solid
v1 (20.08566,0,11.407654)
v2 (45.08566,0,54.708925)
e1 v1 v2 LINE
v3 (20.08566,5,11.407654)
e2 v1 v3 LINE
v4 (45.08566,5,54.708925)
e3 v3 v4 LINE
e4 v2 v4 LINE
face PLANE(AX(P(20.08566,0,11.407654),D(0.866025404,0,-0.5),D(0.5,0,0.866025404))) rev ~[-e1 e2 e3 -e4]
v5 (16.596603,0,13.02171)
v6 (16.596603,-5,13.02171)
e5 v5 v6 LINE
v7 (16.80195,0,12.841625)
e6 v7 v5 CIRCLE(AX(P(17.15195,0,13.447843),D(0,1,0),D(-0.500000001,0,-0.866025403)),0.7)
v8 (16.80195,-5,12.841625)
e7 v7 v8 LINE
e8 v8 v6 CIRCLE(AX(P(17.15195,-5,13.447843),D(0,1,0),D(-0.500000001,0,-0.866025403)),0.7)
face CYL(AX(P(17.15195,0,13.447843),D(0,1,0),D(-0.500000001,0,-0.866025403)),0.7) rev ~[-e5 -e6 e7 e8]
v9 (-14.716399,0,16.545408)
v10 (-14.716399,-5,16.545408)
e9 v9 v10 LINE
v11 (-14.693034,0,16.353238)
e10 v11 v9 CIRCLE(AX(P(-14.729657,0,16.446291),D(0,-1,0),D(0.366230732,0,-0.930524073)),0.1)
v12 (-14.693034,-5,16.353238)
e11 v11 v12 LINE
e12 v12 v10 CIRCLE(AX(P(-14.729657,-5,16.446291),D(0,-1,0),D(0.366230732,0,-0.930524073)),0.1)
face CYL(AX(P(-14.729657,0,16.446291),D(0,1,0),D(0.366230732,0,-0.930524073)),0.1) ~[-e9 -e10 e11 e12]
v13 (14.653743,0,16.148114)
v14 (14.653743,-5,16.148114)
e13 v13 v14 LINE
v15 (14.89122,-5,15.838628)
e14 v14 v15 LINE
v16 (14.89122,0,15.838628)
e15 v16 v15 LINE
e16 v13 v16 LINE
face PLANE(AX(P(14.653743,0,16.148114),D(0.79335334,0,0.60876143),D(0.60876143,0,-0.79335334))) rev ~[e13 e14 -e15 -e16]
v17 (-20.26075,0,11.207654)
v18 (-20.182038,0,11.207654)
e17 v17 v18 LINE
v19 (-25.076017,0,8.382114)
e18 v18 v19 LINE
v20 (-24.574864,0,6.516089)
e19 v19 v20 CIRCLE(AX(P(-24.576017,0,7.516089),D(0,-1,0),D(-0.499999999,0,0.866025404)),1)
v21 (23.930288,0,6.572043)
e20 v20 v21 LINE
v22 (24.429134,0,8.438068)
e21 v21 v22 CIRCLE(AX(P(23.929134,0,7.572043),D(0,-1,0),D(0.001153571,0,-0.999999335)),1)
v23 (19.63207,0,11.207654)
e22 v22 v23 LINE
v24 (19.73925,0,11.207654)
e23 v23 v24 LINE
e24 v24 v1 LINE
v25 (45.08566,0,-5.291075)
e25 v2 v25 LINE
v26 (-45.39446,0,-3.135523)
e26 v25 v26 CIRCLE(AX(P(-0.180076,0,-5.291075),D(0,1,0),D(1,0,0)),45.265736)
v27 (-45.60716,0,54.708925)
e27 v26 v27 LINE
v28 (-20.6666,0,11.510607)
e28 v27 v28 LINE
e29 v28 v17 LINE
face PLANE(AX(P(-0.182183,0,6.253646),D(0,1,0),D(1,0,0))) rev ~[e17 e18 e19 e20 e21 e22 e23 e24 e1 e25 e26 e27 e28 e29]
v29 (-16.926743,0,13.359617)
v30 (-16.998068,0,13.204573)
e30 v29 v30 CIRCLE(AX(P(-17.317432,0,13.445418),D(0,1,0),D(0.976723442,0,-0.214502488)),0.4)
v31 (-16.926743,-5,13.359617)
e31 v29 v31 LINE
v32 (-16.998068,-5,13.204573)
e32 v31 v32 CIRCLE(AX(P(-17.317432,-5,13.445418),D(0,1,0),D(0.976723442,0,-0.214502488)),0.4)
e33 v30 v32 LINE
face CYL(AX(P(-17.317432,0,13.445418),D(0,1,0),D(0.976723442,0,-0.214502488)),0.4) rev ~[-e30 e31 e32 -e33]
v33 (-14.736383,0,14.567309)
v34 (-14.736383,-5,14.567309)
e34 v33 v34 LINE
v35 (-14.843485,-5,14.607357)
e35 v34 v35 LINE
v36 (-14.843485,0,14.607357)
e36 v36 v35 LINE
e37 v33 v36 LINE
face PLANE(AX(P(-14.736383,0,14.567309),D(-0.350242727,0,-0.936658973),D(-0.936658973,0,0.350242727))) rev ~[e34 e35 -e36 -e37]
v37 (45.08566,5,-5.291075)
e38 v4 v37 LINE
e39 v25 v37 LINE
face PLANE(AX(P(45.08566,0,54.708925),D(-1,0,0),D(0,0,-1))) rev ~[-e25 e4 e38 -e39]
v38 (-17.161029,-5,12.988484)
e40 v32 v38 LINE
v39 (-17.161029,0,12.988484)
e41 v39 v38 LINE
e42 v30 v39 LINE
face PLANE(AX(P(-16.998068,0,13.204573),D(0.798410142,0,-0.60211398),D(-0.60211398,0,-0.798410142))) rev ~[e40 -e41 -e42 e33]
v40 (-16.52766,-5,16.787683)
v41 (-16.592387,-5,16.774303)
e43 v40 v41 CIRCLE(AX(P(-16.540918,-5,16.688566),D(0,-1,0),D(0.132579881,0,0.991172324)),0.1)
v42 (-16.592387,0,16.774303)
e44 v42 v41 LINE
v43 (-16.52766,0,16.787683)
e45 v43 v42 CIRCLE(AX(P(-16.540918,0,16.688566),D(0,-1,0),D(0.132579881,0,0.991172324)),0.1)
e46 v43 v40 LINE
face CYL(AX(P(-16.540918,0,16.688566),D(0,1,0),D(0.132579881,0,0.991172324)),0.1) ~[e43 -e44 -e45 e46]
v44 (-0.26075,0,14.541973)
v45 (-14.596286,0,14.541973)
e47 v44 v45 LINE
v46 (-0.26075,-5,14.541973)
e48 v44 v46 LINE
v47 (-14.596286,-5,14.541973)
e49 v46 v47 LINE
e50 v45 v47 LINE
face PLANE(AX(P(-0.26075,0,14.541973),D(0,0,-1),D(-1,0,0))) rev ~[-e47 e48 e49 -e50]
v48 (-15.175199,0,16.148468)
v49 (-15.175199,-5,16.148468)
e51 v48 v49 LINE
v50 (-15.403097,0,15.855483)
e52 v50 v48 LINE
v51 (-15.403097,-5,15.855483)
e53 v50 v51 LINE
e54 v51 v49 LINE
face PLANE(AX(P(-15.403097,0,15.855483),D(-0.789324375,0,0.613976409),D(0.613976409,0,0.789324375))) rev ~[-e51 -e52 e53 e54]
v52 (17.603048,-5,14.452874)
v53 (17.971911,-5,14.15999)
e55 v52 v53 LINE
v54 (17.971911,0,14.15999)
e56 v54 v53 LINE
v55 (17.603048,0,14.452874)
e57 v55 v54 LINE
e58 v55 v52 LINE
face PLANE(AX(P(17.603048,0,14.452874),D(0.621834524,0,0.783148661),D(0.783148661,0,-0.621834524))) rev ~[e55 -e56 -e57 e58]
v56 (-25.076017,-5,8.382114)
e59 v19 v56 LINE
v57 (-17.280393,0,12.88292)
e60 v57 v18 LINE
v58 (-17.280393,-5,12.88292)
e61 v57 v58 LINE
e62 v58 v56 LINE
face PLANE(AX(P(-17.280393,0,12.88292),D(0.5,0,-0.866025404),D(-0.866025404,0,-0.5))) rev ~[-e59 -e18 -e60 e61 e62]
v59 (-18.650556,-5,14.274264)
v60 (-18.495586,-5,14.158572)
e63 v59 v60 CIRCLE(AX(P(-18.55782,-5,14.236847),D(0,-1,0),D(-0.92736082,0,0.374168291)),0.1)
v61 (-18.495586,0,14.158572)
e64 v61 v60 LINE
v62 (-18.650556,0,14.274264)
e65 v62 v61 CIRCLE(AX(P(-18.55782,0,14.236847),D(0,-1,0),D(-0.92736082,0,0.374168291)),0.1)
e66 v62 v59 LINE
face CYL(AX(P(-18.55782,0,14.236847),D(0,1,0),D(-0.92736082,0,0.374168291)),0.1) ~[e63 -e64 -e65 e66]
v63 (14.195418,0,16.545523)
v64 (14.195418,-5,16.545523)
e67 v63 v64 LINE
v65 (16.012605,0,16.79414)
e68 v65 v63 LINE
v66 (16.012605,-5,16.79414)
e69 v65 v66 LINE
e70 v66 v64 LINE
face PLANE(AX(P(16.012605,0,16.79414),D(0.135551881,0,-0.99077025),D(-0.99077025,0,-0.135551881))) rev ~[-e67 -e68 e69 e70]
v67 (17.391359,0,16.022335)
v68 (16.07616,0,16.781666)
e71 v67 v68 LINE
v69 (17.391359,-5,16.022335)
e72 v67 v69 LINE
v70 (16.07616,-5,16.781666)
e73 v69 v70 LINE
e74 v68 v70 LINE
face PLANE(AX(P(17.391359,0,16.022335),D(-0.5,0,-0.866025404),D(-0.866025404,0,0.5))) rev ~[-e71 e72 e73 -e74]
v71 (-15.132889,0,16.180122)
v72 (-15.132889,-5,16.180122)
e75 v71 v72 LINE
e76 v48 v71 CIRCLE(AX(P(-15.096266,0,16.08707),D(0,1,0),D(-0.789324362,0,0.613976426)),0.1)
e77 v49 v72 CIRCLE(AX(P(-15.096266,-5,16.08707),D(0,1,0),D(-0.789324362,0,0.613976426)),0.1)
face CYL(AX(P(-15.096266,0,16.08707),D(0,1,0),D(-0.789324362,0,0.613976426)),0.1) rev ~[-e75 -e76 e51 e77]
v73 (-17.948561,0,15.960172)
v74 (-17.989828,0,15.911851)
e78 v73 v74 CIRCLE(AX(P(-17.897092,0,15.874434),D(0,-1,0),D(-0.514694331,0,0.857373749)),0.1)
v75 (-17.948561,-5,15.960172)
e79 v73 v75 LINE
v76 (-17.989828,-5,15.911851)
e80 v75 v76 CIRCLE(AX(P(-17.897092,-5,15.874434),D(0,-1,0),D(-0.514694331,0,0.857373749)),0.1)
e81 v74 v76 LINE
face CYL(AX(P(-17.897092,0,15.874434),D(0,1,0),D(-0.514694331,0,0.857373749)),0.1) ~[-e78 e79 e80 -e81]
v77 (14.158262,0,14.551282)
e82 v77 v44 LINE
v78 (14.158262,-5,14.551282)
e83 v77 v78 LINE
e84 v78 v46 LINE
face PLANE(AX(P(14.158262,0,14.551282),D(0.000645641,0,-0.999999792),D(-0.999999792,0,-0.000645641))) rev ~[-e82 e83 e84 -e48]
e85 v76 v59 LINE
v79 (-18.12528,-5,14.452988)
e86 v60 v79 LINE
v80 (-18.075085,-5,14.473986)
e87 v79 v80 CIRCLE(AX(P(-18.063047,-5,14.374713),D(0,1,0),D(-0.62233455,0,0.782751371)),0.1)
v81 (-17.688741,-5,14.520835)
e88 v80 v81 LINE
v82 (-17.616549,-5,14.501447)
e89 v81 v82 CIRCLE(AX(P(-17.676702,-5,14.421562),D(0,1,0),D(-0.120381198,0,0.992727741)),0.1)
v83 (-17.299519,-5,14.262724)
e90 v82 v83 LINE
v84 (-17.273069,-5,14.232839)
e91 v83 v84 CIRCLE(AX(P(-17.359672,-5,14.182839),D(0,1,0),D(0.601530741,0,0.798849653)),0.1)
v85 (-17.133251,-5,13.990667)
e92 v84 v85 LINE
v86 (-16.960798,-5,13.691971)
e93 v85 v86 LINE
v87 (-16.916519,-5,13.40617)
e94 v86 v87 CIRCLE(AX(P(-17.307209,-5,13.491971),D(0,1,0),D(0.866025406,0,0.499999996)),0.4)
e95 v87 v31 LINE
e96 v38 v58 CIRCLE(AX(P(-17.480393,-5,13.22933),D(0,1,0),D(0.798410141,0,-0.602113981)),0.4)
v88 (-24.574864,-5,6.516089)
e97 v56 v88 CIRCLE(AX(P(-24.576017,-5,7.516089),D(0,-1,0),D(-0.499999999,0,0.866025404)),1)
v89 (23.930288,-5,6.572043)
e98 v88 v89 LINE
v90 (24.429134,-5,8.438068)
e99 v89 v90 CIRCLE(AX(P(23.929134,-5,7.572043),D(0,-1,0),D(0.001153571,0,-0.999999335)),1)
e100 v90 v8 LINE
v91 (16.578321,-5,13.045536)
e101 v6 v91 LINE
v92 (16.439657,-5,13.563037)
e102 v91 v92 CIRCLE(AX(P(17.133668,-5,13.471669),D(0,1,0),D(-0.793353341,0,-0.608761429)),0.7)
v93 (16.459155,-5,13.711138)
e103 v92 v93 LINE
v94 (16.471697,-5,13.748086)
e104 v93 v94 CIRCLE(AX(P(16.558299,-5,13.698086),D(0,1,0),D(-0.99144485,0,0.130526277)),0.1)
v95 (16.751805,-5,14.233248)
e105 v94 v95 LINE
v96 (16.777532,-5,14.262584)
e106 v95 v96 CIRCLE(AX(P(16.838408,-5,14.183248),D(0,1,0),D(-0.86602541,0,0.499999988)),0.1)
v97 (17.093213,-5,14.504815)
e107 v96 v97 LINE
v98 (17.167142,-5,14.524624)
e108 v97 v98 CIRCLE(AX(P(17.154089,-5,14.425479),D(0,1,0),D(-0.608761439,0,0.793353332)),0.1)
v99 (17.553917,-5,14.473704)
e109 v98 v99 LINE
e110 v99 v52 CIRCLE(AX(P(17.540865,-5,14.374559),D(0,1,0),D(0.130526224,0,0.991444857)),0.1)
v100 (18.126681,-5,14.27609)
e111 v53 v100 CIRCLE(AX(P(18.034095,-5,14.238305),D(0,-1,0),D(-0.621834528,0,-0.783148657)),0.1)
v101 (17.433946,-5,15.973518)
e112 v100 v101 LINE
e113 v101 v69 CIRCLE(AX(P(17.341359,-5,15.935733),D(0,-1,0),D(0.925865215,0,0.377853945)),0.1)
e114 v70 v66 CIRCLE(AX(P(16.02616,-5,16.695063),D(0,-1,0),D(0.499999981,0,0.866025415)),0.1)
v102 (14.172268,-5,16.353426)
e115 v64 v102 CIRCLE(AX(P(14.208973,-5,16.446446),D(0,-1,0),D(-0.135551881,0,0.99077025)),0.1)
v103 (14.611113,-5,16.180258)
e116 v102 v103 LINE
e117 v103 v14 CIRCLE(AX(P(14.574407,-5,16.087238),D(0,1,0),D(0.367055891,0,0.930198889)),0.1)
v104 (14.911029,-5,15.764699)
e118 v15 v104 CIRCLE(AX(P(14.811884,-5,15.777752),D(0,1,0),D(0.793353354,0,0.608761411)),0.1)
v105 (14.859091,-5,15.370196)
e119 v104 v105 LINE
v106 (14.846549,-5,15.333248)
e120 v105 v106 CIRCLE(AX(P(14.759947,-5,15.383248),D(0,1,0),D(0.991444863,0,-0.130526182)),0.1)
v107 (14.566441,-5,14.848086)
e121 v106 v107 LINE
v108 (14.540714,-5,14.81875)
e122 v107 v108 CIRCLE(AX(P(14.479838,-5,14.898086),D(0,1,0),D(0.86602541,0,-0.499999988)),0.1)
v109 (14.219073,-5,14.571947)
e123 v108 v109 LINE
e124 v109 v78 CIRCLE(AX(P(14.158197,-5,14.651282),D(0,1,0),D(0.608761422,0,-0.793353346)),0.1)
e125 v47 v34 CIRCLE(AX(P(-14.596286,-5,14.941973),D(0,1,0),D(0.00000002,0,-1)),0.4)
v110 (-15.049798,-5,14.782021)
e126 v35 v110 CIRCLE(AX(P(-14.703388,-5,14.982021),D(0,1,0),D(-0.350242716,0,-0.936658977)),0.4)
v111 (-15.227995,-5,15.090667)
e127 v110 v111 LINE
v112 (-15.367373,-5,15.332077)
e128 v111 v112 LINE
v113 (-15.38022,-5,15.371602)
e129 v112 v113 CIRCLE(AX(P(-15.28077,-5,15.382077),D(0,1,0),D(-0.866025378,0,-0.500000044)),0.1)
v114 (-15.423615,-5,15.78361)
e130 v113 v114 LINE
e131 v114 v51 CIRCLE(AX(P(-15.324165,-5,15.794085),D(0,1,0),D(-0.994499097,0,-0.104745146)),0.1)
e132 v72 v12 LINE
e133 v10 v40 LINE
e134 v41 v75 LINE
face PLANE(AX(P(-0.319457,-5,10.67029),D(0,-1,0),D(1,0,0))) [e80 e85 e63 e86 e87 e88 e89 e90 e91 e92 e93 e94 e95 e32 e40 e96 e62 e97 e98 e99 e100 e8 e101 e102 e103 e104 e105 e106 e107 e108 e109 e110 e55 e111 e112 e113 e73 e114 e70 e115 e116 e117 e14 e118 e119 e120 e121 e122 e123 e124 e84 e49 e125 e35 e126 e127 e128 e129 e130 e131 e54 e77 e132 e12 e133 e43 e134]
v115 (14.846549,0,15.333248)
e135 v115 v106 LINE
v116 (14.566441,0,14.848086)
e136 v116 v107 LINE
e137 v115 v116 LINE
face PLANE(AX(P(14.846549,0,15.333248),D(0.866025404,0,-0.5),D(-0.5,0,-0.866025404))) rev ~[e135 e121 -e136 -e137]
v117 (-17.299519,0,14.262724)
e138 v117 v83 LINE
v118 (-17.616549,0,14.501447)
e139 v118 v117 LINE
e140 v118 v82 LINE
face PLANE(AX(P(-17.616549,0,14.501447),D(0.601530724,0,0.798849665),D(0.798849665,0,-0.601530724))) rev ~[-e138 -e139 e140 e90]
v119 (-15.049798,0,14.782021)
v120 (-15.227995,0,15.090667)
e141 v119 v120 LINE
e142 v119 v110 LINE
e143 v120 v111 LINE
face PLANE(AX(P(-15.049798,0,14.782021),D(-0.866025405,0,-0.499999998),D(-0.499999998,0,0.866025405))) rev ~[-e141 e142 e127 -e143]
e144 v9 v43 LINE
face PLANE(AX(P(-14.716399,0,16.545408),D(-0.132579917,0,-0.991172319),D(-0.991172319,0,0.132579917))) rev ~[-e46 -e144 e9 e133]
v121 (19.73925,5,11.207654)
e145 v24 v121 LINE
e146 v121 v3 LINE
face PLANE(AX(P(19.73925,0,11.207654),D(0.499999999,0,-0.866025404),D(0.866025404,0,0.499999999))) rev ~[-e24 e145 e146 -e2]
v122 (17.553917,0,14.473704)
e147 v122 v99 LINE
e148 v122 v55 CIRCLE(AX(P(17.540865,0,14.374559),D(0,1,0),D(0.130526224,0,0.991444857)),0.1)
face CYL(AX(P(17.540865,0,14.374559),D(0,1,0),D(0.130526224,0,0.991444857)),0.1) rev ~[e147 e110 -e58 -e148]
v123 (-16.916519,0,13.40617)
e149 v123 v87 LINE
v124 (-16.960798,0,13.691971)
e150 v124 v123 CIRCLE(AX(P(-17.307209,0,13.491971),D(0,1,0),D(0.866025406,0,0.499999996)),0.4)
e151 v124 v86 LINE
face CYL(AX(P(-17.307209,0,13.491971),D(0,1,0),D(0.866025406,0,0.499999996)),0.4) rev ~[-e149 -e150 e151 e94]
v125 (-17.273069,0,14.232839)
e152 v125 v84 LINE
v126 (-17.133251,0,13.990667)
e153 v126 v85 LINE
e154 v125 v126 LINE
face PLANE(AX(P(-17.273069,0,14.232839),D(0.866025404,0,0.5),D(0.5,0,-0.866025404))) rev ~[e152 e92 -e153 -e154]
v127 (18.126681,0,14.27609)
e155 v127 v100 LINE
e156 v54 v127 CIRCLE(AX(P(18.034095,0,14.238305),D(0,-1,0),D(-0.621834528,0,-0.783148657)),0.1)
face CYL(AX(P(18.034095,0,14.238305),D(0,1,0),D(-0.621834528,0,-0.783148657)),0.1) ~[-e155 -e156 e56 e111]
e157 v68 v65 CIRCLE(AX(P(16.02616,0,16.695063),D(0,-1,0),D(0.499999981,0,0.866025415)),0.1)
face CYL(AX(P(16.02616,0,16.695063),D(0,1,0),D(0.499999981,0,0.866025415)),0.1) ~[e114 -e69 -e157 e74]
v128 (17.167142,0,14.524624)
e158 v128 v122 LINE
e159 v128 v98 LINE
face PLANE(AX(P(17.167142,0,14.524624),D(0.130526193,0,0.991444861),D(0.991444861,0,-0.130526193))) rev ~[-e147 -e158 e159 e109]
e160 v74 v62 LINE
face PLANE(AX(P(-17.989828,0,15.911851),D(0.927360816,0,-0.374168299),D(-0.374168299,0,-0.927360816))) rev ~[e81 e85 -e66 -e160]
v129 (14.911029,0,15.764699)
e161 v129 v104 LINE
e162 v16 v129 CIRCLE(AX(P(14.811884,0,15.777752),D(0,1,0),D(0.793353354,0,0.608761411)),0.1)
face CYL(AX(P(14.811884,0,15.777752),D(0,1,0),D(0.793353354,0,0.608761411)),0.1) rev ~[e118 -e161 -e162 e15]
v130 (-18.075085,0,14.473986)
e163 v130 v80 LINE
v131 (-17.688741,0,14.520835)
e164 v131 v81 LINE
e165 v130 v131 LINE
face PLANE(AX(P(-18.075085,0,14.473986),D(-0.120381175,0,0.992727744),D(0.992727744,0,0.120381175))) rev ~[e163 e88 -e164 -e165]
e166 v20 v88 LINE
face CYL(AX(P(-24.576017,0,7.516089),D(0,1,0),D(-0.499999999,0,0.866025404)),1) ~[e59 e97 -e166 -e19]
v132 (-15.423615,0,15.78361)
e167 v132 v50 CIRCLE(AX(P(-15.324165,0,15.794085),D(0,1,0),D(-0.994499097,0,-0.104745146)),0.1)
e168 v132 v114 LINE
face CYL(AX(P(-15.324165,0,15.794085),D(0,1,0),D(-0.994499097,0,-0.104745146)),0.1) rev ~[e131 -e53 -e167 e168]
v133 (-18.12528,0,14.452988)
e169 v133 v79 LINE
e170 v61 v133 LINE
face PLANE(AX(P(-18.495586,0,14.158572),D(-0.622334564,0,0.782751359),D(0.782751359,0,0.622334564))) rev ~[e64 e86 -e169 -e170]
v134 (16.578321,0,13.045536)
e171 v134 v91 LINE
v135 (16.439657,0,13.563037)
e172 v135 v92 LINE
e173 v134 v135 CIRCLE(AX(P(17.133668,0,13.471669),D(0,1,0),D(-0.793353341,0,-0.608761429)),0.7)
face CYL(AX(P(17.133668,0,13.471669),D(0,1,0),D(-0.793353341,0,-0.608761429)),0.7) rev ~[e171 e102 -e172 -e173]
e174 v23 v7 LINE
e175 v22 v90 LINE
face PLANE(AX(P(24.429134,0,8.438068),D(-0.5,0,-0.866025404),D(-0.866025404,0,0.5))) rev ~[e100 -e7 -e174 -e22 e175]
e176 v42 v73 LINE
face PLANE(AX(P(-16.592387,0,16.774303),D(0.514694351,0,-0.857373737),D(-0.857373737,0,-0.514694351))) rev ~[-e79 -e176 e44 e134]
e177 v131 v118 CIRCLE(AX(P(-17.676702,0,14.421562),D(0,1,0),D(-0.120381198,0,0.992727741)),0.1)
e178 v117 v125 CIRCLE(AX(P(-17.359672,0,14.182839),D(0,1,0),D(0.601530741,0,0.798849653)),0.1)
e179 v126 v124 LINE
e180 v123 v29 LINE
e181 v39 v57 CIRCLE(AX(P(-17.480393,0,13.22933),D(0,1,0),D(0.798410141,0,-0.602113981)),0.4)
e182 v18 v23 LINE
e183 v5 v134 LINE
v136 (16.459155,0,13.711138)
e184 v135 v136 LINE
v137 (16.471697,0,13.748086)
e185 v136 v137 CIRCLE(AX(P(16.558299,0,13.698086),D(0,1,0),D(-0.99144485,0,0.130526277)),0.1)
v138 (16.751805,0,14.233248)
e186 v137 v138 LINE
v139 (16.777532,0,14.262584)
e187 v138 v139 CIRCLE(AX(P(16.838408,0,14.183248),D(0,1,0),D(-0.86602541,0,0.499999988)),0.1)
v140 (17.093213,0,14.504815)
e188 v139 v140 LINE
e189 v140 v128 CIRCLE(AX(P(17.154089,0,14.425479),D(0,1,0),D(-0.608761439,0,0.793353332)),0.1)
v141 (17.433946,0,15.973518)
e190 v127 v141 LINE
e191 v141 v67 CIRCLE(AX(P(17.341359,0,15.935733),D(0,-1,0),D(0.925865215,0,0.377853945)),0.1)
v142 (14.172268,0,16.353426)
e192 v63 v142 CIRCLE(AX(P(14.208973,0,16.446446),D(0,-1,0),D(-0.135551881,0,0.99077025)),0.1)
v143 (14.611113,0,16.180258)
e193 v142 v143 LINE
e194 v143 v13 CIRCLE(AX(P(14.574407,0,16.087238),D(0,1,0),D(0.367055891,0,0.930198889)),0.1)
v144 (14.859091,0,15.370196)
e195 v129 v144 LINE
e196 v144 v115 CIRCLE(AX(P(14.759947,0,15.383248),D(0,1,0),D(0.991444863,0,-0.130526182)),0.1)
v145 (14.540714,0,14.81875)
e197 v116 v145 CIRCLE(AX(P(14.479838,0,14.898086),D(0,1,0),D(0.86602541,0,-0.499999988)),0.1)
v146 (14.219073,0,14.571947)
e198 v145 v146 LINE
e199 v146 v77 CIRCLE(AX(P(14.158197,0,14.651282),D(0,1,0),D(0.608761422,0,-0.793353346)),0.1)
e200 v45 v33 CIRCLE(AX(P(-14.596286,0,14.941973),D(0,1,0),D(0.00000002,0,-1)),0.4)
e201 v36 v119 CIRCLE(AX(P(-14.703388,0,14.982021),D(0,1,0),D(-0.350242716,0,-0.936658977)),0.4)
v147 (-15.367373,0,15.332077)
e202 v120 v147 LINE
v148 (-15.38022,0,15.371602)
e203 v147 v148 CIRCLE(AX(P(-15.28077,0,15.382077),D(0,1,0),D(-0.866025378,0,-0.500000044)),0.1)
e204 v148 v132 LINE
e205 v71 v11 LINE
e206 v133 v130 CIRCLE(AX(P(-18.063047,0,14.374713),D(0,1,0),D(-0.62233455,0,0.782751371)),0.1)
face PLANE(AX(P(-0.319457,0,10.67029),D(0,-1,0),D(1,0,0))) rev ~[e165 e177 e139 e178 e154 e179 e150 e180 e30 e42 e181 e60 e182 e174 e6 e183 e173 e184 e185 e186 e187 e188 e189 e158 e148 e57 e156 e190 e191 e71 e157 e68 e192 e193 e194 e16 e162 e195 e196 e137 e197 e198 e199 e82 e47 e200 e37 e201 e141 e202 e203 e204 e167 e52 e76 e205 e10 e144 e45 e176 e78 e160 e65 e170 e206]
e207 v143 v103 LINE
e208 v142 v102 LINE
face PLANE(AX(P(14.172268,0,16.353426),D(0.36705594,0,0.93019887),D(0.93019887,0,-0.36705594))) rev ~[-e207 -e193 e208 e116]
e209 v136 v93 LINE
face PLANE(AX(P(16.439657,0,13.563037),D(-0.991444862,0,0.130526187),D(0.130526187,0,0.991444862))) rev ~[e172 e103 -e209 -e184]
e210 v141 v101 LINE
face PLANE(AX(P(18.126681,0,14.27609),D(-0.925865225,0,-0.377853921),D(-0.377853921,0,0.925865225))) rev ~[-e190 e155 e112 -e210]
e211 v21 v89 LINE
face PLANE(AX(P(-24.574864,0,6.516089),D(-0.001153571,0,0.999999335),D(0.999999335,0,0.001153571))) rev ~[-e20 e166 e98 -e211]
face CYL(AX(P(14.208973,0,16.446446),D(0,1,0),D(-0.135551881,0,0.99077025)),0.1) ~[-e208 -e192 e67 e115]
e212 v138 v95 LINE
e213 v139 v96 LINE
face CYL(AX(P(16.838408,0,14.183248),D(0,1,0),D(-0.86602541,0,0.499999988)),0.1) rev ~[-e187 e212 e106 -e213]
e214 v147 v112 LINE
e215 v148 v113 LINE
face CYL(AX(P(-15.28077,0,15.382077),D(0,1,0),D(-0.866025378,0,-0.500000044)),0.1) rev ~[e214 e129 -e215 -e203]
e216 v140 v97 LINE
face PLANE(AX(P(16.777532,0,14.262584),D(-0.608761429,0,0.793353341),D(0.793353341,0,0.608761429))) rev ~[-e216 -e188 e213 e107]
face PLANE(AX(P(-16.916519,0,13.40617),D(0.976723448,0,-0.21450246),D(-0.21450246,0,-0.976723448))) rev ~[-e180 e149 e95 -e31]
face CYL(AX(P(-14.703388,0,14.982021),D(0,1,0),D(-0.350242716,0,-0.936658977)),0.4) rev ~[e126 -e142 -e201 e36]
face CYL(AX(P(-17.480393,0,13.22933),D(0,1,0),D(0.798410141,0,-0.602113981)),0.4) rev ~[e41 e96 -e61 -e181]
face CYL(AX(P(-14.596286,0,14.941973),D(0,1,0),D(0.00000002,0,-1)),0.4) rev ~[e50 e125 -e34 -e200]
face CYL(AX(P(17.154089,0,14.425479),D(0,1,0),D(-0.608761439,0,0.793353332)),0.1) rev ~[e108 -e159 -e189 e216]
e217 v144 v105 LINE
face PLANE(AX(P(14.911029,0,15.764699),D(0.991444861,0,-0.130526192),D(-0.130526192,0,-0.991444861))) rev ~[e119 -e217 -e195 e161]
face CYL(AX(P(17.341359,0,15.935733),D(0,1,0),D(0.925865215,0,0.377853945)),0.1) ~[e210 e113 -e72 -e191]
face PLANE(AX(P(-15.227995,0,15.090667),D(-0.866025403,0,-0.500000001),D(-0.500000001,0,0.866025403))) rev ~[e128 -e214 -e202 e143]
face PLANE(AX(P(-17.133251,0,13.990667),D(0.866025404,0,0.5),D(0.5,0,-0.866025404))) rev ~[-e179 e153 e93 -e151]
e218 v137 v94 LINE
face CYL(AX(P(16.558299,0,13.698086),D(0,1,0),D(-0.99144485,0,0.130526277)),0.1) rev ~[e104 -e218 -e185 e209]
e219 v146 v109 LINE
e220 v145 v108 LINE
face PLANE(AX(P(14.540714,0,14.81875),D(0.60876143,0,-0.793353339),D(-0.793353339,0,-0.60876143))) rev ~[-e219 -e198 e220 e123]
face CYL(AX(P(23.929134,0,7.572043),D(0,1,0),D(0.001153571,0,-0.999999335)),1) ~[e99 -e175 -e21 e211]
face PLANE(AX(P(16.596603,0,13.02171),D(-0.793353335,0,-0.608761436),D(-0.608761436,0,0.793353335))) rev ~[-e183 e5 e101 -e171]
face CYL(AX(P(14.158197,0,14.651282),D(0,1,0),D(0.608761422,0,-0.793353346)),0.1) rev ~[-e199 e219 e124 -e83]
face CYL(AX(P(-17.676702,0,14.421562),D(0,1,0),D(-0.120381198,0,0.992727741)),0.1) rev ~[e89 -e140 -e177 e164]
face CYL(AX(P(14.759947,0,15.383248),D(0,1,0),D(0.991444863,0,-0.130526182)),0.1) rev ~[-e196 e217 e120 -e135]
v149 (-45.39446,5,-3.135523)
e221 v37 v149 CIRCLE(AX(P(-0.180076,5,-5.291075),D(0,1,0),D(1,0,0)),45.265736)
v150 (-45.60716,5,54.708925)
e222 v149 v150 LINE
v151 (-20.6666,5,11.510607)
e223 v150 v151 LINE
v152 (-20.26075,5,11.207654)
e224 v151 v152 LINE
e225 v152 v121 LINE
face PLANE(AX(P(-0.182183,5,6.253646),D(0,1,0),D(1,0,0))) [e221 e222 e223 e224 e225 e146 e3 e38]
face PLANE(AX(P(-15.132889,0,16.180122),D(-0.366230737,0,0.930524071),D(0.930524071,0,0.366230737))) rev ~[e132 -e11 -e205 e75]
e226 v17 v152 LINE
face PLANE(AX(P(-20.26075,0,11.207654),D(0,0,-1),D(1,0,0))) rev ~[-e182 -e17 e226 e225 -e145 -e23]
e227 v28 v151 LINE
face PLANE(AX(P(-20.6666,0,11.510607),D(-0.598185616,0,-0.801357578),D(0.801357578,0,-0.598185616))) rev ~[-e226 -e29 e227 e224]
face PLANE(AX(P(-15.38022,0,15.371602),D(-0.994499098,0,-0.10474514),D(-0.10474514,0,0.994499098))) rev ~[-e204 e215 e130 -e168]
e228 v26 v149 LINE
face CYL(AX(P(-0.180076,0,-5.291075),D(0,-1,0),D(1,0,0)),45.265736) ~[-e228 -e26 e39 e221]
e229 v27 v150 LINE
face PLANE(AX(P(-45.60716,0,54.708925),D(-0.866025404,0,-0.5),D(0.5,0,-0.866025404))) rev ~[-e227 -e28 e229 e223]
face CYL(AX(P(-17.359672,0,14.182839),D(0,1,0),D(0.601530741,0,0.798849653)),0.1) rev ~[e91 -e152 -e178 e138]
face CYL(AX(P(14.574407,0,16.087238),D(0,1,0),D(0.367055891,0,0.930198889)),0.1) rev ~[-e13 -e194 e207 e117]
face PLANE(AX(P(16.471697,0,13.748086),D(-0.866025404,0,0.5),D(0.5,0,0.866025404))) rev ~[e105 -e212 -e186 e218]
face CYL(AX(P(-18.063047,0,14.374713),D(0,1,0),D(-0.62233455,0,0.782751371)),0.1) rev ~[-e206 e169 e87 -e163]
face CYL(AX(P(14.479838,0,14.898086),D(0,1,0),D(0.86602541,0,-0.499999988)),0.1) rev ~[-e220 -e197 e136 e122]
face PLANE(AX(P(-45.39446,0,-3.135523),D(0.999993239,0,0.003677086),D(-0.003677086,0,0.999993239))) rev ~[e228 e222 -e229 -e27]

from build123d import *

# Parameters (mm, degrees)
BOSS_EXTRU_1_DEPTH = 5
BOSS_EXTRU_2_DEPTH = 5


with BuildPart() as part:
    # Esquisse1 → Boss.-Extru.1 (new body)
    with BuildSketch(Plane(origin=(0, 0, 0), x_dir=(1, 0, 0), z_dir=(0, 1, 0))):
        with BuildLine():
            Line((-45.607160176, -54.708924596), (-20.666600132, -11.510607431))
            Line((-20.666600132, -11.510607431), (-20.260750016, -11.207654407))
            Line((-20.260750016, -11.207654407), (-0.260750016, -11.207654407))
            Line((-0.260750016, -11.207654407), (19.739249984, -11.207654407))
            Line((19.739249984, -11.207654407), (20.085660146, -11.407654407))
            Line((20.085660146, -11.407654407), (45.085660146, -54.708924596))
            Line((45.085660146, -54.708924596), (45.085660146, 5.291075404))
            ThreePointArc((45.085660146, 5.291075404), (-1.258158233, 50.543971712), (-45.394459717, 3.135522912))
            Line((-45.394459717, 3.135522912), (-45.607160176, -54.708924596))
        make_face()
    extrude(amount=BOSS_EXTRU_1_DEPTH)

    # Esquisse3 → Boss.-Extru.2 (add)
    with BuildSketch(Plane.XZ):
        with BuildLine():
            Line((-17.273069059, 14.232839193), (-17.133250941, 13.990667109))
            Line((-17.133250941, 13.990667109), (-16.960798401, 13.691970548))
            ThreePointArc((-16.960798401, 13.691970548), (-16.911924508, 13.553212004), (-16.916519184, 13.406169561))
            Line((-16.916519184, 13.406169561), (-16.926742719, 13.359617338))
            ThreePointArc((-16.926742719, 13.359617338), (-16.954040192, 13.27824679), (-16.998068041, 13.204572733))
            Line((-16.998068041, 13.204572733), (-17.161029392, 12.988484086))
            ThreePointArc((-17.161029392, 12.988484086), (-17.215401514, 12.92969778), (-17.280393449, 12.882919517))
            Line((-17.280393449, 12.882919517), (-25.076017394, 8.382113933))
            ThreePointArc((-25.076017394, 8.382113933), (-25.541793777, 7.256712395), (-24.574863823, 6.516089195))
            Line((-24.574863823, 6.516089195), (23.930288039, 6.572043384))
            ThreePointArc((23.930288039, 6.572043384), (24.895209417, 7.313780849), (24.429134468, 8.438068122))
            Line((24.429134468, 8.438068122), (16.801950366, 12.841624917))
            ThreePointArc((16.801950366, 12.841624917), (16.690408296, 12.921554834), (16.596603028, 13.021709699))
            Line((16.596603028, 13.021709699), (16.578320724, 13.045535661))
            ThreePointArc((16.578320724, 13.045535661), (16.457519984, 13.29049533), (16.43965666, 13.563036996))
            Line((16.43965666, 13.563036996), (16.459154582, 13.711138423))
            ThreePointArc((16.459154582, 13.711138423), (16.463606056, 13.73022975), (16.471696528, 13.748085804))
            Line((16.471696528, 13.748085804), (16.751805291, 14.233248413))
            ThreePointArc((16.751805291, 14.233248413), (16.763223851, 14.249182995), (16.777531689, 14.262583747))
            Line((16.777531689, 14.262583747), (17.093212954, 14.504814501))
            ThreePointArc((17.093212954, 14.504814501), (17.128207192, 14.52207175), (17.167141716, 14.524623654))
            Line((17.167141716, 14.524623654), (17.553917324, 14.473703679))
            ThreePointArc((17.553917324, 14.473703679), (17.57989783, 14.466626641), (17.603048157, 14.452874058))
            Line((17.603048157, 14.452874058), (17.97191114, 14.159990026))
            ThreePointArc((17.97191114, 14.159990026), (18.094102127, 14.158310543), (18.126681115, 14.276090284))
            Line((18.126681115, 14.276090284), (17.433945609, 15.973517991))
            ThreePointArc((17.433945609, 15.973517991), (17.416714959, 16.001470658), (17.391359086, 16.02233514))
            Line((17.391359086, 16.02233514), (16.076159754, 16.781665828))
            ThreePointArc((16.076159754, 16.781665828), (16.045420057, 16.793190963), (16.012604566, 16.794140313))
            Line((16.012604566, 16.794140313), (14.195418018, 16.545522578))
            ThreePointArc((14.195418018, 16.545522578), (14.109691574, 16.458410399), (14.172267612, 16.353425666))
            Line((14.172267612, 16.353425666), (14.611112944, 16.18025755))
            ThreePointArc((14.611112944, 16.18025755), (14.63461266, 16.167083269), (14.653742684, 16.148113806))
            Line((14.653742684, 16.148113806), (14.891219551, 15.838627928))
            ThreePointArc((14.891219551, 15.838627928), (14.908476799, 15.80363369), (14.911028703, 15.764699166))
            Line((14.911028703, 15.764699166), (14.859091349, 15.370195794))
            ThreePointArc((14.859091349, 15.370195794), (14.854639876, 15.351104467), (14.846549403, 15.333248413))
            Line((14.846549403, 15.333248413), (14.56644064, 14.848085804))
            ThreePointArc((14.56644064, 14.848085804), (14.55502208, 14.832151222), (14.540714242, 14.81875047))
            Line((14.540714242, 14.81875047), (14.219073364, 14.571946743))
            ThreePointArc((14.219073364, 14.571946743), (14.190371735, 14.556599446), (14.158261785, 14.551282098))
            Line((14.158261785, 14.551282098), (-0.260750016, 14.541972588))
            Line((-0.260750016, 14.541972588), (-14.596285983, 14.541972588))
            ThreePointArc((-14.596285983, 14.541972588), (-14.667470827, 14.548357651), (-14.736383073, 14.567308998))
            Line((-14.736383073, 14.567308998), (-14.843485058, 14.607357396))
            ThreePointArc((-14.843485058, 14.607357396), (-14.96184332, 14.676732873), (-15.04979813, 14.782020985))
            Line((-15.04979813, 14.782020985), (-15.227995052, 15.090667109))
            Line((-15.227995052, 15.090667109), (-15.367372917, 15.332076652))
            ThreePointArc((-15.367372917, 15.332076652), (-15.375872662, 15.351164592), (-15.380220287, 15.371602138))
            Line((-15.380220287, 15.371602138), (-15.423614857, 15.783610378))
            ThreePointArc((-15.423614857, 15.783610378), (-15.420323499, 15.821535446), (-15.403097384, 15.855482533))
            Line((-15.403097384, 15.855482533), (-15.175198809, 16.148467569))
            ThreePointArc((-15.175198809, 16.148467569), (-15.156172757, 16.167140053), (-15.132889445, 16.180122335))
            Line((-15.132889445, 16.180122335), (-14.693034359, 16.353238171))
            ThreePointArc((-14.693034359, 16.353238171), (-14.630388491, 16.458360263), (-14.716399441, 16.54540781))
            Line((-14.716399441, 16.54540781), (-16.527659803, 16.78768329))
            ThreePointArc((-16.527659803, 16.78768329), (-16.561160911, 16.786495707), (-16.59238723, 16.774303432))
            Line((-16.59238723, 16.774303432), (-17.948561264, 15.96017176))
            ThreePointArc((-17.948561264, 15.96017176), (-17.973134754, 15.939376465), (-17.98982791, 15.911851216))
            Line((-17.98982791, 15.911851216), (-18.650555766, 14.274264265))
            ThreePointArc((-18.650555766, 14.274264265), (-18.617642424, 14.156714797), (-18.495586228, 14.158572299))
            Line((-18.495586228, 14.158572299), (-18.125279987, 14.452988106))
            ThreePointArc((-18.125279987, 14.452988106), (-18.101637875, 14.466966469), (-18.075084648, 14.473985744))
            Line((-18.075084648, 14.473985744), (-17.688740592, 14.520834995))
            ThreePointArc((-17.688740592, 14.520834995), (-17.650765358, 14.518139993), (-17.616549402, 14.501447188))
            Line((-17.616549402, 14.501447188), (-17.299518527, 14.262724159))
            ThreePointArc((-17.299518527, 14.262724159), (-17.284787821, 14.249114525), (-17.273069059, 14.232839193))
        make_face()
    extrude(amount=BOSS_EXTRU_2_DEPTH)


solid = part.part
